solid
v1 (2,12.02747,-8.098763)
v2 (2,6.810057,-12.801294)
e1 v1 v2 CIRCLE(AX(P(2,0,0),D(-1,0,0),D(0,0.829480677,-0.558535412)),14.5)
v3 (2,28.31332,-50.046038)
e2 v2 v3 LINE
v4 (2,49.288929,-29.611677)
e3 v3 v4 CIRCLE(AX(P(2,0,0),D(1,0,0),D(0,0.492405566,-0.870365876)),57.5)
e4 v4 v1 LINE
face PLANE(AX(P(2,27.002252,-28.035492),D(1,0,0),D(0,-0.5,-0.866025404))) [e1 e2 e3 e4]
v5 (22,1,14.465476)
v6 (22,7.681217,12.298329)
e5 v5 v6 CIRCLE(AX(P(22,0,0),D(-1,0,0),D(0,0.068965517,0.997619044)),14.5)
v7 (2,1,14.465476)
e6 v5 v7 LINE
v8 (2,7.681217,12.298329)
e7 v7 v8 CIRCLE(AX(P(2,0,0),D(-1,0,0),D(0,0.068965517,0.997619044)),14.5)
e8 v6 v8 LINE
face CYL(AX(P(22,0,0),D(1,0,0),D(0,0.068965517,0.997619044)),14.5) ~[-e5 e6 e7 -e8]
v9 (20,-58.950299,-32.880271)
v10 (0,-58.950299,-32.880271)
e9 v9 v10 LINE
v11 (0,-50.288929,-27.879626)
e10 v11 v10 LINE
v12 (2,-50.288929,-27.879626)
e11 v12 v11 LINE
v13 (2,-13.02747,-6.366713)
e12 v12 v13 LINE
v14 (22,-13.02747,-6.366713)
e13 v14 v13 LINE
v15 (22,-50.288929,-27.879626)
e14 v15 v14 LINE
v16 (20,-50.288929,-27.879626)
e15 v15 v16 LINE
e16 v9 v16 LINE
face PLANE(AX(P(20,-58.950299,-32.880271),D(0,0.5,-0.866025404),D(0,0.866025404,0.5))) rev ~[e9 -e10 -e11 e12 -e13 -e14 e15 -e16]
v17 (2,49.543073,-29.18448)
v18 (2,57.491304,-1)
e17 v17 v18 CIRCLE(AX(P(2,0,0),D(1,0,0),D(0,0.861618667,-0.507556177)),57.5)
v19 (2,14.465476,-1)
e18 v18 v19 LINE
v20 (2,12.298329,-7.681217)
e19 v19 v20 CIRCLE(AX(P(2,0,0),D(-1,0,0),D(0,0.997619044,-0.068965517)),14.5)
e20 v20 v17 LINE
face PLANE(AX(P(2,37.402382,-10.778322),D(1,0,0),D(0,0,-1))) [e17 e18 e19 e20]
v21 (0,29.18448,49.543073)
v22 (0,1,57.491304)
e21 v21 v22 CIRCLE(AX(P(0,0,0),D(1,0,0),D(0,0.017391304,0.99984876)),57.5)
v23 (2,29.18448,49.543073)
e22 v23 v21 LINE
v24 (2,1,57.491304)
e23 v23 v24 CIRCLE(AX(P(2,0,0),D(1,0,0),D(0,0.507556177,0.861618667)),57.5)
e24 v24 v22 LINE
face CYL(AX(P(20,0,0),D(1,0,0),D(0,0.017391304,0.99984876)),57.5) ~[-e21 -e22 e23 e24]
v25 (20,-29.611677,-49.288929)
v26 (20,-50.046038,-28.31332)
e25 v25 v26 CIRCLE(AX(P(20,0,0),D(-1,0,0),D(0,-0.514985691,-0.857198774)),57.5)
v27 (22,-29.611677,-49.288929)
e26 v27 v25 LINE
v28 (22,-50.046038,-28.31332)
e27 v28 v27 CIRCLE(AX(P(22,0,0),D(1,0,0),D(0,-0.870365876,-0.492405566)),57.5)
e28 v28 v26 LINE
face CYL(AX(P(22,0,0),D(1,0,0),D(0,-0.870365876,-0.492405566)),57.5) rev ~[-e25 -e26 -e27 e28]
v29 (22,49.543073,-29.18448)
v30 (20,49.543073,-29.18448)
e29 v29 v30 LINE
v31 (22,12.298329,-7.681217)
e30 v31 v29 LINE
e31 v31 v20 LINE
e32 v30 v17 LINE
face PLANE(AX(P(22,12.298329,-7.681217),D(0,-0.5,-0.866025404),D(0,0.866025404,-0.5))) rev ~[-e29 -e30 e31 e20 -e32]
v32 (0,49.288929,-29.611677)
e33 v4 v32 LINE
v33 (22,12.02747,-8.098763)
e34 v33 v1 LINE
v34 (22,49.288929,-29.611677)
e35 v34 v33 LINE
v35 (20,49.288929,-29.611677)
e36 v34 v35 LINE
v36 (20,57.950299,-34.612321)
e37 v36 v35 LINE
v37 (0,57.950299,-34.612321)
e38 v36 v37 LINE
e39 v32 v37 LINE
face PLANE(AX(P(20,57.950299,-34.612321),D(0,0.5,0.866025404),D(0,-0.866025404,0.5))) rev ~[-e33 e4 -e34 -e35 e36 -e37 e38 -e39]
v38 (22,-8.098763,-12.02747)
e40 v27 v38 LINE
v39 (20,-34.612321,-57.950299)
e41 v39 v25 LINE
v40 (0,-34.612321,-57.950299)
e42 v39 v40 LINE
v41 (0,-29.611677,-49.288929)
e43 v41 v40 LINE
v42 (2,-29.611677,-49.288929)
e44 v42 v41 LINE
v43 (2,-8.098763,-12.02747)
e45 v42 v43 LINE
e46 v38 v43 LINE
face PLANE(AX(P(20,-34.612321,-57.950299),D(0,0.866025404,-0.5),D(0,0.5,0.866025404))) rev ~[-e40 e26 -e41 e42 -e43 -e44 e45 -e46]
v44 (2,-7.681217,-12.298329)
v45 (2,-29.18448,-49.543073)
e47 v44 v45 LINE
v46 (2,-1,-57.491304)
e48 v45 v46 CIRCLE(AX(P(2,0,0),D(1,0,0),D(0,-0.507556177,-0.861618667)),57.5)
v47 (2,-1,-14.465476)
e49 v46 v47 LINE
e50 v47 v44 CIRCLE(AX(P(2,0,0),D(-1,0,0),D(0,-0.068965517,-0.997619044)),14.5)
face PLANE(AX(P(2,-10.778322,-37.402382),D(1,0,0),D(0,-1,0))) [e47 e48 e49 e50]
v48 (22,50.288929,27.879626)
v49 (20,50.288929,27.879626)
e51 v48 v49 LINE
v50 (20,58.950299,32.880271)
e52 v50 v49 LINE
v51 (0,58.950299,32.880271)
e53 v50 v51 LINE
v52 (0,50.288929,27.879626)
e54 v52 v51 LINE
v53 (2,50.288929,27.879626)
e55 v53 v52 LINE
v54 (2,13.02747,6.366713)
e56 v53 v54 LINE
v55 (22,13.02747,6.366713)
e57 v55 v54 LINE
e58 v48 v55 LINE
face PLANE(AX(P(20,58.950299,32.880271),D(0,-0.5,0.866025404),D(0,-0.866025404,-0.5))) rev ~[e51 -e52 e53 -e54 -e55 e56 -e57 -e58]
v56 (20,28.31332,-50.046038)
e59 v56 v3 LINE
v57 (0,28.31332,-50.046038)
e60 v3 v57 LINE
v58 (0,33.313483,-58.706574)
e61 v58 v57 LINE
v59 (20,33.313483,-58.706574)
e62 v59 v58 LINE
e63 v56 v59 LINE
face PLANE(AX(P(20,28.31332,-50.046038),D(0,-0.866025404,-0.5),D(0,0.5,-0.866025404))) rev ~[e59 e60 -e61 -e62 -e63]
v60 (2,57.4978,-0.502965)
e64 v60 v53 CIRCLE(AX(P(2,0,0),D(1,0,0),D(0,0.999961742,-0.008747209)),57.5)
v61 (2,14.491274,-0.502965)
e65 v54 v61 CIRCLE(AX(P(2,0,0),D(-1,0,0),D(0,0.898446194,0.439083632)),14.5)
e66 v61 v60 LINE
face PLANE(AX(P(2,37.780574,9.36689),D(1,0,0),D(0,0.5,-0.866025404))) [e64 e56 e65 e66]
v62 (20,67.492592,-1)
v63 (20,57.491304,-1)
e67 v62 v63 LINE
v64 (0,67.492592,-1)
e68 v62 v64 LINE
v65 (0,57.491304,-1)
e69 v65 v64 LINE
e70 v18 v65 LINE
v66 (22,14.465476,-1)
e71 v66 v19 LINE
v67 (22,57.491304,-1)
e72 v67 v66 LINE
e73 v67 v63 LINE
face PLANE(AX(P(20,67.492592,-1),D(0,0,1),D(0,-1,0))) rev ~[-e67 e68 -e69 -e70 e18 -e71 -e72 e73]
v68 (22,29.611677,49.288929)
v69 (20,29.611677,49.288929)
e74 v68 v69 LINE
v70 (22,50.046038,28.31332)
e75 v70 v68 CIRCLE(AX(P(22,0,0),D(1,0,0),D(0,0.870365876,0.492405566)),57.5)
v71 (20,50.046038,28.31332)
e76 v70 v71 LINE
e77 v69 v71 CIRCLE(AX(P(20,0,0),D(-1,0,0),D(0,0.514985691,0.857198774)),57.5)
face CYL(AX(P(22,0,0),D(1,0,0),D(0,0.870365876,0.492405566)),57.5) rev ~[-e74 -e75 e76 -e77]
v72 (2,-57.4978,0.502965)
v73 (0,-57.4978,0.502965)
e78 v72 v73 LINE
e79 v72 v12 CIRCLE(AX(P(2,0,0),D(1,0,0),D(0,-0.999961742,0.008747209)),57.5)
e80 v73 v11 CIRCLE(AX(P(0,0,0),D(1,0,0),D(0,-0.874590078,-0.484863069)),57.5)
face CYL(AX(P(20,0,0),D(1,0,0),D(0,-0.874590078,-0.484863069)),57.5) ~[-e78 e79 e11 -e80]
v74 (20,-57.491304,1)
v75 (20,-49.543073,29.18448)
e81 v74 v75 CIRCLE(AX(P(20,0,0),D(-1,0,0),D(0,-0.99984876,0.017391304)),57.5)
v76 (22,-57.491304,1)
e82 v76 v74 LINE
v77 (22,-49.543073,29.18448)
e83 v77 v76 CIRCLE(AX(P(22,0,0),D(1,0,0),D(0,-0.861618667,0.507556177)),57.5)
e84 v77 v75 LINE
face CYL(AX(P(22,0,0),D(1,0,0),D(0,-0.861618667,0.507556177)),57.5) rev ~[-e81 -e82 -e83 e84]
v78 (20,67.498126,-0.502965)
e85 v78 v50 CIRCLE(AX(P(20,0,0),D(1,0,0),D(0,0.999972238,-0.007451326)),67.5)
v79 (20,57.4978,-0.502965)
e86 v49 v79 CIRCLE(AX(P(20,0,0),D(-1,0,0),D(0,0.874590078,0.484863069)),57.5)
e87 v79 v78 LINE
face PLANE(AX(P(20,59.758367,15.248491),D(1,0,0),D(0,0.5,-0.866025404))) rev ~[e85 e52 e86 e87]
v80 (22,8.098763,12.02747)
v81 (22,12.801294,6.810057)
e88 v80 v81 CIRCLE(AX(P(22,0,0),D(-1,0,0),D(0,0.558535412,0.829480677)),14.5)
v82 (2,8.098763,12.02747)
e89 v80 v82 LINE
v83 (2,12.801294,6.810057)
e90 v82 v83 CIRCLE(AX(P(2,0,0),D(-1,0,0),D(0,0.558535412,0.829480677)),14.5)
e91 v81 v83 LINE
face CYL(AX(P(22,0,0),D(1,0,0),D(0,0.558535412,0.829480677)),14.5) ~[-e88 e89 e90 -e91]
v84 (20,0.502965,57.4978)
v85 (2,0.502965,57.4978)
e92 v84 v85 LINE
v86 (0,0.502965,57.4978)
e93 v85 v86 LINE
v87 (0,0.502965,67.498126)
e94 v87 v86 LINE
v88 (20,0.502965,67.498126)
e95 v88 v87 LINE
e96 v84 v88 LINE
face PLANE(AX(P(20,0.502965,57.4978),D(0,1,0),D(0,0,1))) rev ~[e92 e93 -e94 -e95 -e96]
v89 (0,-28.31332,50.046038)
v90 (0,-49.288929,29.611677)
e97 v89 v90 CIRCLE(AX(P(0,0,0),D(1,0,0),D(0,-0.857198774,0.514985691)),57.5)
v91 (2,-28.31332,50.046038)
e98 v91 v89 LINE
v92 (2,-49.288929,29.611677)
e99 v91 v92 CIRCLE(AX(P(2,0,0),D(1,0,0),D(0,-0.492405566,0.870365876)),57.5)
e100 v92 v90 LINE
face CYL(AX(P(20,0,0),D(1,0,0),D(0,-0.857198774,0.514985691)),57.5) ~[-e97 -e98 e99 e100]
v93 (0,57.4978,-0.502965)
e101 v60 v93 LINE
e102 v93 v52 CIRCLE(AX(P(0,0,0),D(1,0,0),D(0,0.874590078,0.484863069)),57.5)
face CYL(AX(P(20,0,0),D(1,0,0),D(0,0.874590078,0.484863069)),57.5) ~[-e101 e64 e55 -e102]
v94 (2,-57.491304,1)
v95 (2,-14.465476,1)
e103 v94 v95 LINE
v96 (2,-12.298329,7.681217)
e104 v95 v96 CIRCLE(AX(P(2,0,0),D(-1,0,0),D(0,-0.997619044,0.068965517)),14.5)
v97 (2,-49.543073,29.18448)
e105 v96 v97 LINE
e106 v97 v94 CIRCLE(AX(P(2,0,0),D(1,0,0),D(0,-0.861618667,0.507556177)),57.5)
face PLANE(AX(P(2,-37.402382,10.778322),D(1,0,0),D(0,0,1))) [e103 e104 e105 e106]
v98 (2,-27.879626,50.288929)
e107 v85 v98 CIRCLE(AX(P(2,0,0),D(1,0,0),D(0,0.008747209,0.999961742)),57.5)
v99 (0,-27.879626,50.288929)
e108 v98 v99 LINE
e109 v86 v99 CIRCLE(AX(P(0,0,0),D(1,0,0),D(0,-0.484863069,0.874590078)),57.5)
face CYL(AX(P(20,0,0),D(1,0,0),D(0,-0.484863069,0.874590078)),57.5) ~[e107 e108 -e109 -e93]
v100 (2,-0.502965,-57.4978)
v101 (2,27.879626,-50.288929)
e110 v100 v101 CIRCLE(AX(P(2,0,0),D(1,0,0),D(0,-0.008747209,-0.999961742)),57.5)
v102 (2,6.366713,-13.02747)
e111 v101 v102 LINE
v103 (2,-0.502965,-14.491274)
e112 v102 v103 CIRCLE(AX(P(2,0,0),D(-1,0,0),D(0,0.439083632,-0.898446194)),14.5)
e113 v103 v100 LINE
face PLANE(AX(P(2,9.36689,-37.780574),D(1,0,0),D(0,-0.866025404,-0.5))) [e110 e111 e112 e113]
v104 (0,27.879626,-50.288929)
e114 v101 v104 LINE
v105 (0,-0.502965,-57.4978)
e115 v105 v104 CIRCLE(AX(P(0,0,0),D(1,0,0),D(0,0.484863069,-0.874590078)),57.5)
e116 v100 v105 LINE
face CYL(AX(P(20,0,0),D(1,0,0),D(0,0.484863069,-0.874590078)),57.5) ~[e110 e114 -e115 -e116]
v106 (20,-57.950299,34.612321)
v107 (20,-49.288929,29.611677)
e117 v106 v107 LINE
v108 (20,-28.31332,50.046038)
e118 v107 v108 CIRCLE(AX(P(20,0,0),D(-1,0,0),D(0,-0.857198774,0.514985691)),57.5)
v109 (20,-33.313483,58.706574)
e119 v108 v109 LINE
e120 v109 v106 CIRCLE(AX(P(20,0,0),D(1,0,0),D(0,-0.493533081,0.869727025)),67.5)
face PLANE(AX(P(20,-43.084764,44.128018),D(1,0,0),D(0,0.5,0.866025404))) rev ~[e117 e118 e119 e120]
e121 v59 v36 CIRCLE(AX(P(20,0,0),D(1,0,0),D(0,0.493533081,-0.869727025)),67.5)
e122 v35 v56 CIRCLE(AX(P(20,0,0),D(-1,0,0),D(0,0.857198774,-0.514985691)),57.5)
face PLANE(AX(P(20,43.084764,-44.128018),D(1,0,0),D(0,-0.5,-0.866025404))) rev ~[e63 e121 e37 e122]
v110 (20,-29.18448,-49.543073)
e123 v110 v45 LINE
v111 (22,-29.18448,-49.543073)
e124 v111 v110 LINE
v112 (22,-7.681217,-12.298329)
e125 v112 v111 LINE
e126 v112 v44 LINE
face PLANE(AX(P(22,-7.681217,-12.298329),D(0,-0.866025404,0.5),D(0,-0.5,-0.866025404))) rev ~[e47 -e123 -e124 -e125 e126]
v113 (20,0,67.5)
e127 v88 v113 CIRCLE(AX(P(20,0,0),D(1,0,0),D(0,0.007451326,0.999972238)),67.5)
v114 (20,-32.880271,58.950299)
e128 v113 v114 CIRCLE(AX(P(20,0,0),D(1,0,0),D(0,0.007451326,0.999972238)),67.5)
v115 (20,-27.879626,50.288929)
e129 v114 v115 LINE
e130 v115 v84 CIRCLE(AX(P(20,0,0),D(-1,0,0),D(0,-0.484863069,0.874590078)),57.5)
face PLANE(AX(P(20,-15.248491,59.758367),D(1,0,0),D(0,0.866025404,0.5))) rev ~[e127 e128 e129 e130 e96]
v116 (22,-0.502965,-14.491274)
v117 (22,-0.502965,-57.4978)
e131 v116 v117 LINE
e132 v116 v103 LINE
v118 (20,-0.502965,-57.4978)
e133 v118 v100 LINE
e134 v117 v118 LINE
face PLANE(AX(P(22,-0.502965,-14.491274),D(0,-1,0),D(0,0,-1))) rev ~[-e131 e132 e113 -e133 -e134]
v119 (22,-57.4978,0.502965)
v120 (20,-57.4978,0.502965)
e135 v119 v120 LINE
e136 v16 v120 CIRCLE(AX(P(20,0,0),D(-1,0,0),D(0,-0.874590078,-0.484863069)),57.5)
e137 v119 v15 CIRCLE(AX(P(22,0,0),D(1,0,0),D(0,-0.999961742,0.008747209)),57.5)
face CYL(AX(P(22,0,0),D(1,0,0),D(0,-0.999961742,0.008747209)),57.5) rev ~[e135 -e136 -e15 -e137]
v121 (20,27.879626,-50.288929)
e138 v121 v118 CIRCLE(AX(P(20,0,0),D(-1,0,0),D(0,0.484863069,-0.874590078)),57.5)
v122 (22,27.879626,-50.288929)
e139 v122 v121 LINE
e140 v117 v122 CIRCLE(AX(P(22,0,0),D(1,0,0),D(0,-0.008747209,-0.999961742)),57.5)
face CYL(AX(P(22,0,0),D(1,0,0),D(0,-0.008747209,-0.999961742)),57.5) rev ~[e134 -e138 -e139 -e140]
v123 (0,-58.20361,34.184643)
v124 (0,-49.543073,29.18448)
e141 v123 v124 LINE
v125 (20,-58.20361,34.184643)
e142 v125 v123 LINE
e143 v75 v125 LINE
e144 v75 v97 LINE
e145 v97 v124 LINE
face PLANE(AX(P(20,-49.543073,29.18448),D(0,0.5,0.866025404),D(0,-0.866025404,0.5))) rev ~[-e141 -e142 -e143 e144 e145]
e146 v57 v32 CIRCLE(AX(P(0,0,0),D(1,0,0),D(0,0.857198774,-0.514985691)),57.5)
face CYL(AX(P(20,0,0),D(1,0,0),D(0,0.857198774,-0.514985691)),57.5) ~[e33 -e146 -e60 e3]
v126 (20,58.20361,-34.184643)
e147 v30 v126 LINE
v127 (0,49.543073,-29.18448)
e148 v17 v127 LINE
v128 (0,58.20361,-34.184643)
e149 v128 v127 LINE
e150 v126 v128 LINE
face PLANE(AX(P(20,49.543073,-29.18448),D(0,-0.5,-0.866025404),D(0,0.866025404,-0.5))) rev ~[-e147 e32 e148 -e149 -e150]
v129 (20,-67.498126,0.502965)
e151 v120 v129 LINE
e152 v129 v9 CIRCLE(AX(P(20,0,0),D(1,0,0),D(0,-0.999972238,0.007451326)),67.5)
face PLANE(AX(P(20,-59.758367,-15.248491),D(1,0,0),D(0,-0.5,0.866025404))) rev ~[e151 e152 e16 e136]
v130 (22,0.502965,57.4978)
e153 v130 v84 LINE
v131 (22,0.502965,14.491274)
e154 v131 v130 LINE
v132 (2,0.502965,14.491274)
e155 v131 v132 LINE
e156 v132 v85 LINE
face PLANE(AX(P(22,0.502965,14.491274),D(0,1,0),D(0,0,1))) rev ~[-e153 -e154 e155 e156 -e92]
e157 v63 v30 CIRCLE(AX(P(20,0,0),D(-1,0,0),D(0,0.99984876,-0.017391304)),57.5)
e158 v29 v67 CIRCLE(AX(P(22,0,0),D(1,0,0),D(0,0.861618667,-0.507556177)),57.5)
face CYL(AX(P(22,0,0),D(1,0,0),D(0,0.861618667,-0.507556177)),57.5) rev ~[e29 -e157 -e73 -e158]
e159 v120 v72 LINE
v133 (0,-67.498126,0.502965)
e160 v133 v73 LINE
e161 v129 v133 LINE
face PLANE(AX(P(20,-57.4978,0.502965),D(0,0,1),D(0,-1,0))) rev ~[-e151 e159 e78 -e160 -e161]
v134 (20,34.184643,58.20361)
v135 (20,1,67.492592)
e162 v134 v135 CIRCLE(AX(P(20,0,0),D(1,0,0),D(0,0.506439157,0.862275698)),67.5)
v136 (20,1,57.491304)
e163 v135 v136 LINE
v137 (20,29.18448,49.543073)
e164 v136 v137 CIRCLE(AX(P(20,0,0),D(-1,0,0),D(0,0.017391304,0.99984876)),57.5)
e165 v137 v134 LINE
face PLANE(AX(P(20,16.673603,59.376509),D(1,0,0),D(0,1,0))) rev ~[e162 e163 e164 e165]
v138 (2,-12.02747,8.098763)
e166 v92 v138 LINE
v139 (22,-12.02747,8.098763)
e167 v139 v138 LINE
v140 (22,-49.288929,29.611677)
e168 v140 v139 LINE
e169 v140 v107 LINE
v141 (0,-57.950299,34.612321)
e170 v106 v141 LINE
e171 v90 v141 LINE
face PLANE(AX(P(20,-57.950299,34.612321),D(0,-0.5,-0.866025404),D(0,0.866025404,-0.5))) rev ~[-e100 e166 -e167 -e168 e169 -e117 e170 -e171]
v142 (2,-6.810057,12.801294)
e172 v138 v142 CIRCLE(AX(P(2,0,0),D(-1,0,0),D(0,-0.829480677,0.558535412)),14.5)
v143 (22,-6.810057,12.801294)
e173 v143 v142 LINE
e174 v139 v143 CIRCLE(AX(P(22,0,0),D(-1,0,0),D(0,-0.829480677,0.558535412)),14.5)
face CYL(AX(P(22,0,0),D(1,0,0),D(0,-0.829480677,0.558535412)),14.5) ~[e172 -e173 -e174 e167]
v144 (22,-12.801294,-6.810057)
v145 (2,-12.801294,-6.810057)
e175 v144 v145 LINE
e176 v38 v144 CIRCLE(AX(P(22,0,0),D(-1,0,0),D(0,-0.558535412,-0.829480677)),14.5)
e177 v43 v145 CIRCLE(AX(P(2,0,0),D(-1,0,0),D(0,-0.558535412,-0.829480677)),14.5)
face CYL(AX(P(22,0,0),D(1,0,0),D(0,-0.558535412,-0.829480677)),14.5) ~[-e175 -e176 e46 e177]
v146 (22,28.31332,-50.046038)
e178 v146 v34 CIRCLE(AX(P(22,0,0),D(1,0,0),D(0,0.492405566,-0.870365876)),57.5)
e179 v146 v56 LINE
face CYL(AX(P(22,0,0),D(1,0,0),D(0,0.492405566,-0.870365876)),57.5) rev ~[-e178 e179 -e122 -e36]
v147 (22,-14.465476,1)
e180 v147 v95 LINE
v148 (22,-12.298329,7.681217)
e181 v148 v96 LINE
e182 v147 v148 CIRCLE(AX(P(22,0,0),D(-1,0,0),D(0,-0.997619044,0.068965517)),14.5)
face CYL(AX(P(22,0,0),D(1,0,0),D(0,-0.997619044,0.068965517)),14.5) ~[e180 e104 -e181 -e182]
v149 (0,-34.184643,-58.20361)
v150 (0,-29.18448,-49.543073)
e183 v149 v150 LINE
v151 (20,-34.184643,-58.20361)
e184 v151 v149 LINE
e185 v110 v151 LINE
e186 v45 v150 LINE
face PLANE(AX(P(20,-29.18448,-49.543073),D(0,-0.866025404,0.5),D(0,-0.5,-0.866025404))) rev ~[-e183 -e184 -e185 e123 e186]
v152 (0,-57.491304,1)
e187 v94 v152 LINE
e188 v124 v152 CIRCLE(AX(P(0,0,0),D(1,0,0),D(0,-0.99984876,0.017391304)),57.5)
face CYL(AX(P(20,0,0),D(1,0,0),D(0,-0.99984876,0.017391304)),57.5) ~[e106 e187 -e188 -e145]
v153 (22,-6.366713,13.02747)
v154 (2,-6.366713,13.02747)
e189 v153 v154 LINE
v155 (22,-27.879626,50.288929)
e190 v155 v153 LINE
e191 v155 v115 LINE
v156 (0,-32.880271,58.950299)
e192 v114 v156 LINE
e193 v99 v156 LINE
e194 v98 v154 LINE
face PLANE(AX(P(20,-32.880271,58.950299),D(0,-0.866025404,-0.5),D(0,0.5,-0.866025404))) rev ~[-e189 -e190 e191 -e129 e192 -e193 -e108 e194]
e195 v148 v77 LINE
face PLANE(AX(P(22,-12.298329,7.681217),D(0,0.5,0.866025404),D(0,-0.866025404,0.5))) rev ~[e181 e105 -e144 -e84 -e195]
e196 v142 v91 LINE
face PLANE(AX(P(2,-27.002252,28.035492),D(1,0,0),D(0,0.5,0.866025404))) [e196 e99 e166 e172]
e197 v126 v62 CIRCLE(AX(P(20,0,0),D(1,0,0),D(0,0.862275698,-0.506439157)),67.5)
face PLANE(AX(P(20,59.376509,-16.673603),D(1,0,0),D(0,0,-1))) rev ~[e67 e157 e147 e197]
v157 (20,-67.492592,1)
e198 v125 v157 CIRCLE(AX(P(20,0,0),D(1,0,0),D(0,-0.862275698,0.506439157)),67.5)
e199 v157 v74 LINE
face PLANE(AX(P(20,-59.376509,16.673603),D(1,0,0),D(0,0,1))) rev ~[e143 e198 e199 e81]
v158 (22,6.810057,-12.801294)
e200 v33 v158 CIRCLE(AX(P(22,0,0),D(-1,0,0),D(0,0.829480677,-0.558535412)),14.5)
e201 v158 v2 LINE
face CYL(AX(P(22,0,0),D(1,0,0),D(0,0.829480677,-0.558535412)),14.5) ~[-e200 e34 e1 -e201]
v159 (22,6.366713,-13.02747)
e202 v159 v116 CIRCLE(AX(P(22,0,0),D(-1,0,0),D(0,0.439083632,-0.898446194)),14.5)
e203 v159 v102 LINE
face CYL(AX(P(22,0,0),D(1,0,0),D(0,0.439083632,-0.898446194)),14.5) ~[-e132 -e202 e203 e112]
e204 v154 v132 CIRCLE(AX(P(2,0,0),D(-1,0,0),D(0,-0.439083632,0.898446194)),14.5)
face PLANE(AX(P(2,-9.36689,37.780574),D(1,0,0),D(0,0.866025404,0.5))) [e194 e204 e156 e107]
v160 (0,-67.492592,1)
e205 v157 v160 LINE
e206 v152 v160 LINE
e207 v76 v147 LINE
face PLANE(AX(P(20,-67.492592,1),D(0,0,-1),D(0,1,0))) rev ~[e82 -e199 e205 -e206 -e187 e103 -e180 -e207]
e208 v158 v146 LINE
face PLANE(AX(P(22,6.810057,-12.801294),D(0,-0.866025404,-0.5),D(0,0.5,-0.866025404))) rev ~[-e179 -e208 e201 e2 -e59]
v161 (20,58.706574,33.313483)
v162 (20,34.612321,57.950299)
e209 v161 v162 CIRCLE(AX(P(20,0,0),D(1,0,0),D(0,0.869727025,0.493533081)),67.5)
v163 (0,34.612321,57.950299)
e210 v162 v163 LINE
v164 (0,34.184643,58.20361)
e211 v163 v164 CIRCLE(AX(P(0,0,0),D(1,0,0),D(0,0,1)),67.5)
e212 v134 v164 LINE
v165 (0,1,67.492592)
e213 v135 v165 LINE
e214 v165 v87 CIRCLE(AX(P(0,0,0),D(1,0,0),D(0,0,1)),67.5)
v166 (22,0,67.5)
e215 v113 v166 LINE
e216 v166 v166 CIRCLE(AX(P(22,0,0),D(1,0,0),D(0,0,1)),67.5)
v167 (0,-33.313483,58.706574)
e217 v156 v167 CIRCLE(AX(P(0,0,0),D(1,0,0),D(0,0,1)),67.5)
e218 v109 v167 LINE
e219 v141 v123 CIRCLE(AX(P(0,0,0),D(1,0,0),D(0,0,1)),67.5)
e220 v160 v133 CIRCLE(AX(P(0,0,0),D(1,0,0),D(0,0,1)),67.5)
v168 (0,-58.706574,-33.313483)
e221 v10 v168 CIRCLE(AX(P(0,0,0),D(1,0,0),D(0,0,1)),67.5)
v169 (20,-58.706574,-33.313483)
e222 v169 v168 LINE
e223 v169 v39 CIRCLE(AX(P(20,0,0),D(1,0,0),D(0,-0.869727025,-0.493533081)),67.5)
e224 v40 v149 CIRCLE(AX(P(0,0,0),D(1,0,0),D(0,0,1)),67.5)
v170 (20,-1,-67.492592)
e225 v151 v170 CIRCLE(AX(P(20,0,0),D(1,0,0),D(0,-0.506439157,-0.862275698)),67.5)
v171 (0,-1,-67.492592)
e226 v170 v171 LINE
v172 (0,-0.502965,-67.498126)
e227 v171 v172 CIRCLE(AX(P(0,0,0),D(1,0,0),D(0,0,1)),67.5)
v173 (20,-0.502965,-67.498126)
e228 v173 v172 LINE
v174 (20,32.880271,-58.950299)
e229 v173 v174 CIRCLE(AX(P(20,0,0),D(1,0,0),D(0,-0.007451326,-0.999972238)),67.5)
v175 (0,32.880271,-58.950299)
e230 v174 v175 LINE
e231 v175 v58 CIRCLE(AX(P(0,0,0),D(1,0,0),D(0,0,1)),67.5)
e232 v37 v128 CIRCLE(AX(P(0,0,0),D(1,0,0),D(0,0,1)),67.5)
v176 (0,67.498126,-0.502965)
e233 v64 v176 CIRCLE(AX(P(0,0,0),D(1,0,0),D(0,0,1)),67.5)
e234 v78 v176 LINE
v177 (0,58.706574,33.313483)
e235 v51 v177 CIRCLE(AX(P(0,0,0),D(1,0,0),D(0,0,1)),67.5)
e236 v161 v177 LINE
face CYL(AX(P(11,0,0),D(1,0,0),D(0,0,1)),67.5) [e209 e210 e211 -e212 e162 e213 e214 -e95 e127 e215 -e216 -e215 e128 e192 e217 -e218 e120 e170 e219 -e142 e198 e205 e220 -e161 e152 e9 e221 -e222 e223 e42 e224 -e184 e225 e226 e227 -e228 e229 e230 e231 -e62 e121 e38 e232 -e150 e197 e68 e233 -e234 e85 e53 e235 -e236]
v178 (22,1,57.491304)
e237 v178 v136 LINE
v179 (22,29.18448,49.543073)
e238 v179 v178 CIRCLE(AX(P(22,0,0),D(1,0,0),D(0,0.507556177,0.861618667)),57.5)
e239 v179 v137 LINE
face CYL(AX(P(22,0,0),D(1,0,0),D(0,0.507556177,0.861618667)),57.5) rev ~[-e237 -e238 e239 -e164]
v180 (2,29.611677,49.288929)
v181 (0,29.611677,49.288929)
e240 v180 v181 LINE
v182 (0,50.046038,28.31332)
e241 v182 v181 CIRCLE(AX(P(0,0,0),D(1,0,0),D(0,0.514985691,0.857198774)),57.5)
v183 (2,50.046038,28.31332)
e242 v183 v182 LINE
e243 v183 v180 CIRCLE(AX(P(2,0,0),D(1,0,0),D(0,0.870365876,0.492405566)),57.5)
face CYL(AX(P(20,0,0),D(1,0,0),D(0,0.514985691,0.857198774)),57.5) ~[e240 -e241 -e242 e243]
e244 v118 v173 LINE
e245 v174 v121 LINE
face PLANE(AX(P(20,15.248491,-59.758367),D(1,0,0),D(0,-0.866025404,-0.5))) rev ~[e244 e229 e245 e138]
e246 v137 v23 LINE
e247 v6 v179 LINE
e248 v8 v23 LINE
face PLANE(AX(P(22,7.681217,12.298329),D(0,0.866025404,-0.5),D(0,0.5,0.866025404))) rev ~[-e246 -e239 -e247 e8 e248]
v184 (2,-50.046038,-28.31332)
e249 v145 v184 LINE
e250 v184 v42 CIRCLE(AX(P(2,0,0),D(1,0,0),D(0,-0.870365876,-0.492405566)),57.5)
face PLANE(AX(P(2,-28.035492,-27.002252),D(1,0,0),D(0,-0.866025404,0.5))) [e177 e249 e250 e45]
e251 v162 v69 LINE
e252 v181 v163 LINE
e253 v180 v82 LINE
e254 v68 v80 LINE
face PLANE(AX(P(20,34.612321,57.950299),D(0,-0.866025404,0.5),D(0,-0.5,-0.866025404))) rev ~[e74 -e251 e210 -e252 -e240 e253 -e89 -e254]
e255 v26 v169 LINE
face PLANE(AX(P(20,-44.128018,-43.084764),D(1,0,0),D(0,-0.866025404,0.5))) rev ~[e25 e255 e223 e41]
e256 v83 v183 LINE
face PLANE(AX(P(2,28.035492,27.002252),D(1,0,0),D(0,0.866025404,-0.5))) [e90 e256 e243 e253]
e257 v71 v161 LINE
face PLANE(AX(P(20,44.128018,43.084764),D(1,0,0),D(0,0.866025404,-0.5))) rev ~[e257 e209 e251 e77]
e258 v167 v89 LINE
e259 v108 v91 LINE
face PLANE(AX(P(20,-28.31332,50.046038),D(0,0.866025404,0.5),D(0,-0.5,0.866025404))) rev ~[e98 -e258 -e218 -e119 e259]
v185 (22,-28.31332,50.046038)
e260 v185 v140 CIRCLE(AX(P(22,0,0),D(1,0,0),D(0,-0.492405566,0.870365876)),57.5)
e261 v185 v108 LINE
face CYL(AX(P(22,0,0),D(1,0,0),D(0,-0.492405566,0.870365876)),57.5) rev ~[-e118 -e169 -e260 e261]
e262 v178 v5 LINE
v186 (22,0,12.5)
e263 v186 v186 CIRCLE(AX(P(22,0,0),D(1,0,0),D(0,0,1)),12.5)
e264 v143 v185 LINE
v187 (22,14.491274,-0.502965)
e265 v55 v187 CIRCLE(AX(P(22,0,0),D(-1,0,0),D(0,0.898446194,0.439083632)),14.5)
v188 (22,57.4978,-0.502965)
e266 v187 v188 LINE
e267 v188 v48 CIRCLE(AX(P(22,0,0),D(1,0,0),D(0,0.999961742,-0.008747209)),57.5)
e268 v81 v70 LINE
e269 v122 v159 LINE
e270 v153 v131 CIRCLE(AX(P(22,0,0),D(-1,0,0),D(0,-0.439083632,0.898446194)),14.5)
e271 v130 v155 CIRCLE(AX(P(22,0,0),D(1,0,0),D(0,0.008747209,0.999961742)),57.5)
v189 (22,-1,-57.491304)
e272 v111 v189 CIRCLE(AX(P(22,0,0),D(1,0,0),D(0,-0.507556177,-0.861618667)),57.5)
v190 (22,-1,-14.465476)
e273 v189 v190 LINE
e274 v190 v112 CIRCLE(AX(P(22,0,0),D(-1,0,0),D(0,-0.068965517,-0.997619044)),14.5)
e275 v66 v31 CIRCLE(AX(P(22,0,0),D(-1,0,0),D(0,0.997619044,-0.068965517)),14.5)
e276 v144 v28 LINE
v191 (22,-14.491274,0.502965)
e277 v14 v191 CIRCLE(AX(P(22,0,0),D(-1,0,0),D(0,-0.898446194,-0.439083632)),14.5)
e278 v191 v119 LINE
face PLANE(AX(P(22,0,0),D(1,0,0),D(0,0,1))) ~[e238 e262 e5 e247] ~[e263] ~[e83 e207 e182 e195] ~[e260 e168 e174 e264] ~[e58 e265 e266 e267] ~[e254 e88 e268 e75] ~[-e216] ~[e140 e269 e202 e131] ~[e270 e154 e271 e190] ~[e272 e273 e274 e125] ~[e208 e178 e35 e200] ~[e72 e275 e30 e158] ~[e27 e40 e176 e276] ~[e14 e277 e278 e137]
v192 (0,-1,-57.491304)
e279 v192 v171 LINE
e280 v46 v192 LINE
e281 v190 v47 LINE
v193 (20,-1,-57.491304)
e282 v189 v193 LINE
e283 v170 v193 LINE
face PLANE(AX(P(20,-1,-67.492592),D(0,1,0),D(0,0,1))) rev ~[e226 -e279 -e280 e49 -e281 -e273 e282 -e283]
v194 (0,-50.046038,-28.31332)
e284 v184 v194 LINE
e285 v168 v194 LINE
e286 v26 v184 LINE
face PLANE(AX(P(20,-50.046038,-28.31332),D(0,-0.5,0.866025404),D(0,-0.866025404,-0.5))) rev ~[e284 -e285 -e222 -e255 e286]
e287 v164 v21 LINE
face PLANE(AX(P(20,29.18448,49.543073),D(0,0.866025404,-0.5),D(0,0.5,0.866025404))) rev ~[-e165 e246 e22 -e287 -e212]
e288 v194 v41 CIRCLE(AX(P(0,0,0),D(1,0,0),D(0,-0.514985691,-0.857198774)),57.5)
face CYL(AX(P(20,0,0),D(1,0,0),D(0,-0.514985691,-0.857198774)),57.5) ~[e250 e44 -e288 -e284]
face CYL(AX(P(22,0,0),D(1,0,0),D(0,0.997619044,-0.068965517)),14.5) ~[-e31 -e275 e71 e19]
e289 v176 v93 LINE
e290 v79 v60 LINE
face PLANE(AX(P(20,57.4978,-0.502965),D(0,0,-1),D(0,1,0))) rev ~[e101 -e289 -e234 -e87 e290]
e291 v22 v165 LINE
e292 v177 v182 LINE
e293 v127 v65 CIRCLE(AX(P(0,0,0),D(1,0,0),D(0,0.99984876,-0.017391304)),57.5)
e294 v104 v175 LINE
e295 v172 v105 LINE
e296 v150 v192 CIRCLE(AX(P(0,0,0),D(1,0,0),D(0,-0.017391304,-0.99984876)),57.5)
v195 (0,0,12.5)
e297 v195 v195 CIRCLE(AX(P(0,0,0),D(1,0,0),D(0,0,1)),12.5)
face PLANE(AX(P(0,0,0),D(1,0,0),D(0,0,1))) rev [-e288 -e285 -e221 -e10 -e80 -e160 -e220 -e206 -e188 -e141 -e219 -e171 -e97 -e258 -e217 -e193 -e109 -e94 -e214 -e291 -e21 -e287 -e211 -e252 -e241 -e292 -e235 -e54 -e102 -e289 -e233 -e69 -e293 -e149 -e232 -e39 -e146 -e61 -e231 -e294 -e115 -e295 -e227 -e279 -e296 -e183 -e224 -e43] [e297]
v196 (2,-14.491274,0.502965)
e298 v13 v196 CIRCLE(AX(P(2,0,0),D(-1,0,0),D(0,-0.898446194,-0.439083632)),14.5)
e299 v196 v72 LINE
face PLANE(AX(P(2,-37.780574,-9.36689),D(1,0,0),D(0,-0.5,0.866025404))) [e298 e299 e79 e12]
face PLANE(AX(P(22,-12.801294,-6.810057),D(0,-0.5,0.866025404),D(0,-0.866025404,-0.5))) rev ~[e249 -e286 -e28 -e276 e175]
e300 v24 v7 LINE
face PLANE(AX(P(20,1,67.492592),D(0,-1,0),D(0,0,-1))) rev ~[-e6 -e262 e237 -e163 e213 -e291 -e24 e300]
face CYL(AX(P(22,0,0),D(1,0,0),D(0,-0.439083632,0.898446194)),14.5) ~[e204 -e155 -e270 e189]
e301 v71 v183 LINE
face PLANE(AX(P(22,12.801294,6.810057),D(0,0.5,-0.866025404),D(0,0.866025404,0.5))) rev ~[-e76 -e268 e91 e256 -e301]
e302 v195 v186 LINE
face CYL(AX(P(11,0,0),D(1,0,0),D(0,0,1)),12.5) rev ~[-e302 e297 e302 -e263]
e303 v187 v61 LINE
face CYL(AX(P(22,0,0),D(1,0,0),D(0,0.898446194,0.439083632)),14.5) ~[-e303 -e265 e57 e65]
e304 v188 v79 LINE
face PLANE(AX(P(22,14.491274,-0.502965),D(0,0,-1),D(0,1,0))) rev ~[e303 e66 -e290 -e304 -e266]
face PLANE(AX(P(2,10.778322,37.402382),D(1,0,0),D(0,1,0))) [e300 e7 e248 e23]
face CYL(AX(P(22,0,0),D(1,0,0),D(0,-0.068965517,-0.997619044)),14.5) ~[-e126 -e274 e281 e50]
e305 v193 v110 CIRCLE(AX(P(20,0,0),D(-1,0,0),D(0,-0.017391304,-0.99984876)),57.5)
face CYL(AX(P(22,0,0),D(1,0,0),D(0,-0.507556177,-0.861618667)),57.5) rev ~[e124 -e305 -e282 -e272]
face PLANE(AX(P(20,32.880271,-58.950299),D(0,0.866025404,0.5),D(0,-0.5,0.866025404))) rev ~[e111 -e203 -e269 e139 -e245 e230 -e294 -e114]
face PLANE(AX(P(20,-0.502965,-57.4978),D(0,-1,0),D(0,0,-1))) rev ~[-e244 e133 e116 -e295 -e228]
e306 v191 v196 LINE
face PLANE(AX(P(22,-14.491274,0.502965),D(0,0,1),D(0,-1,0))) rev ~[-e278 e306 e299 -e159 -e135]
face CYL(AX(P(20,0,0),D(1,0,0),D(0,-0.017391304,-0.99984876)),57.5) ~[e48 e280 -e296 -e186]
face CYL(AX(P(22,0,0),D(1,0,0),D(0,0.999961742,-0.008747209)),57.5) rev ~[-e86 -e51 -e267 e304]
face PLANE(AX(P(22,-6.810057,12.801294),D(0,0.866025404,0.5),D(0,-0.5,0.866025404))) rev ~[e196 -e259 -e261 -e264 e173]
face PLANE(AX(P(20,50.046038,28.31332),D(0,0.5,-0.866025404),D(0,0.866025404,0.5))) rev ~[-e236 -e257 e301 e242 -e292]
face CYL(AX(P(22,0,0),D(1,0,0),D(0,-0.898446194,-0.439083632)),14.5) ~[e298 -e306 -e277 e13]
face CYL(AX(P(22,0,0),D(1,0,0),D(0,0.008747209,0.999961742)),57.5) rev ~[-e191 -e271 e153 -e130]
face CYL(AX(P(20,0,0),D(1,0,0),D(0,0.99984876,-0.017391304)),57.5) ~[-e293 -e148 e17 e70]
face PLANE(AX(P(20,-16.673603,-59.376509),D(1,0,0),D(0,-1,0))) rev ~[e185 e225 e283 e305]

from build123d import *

# Parameters (mm, degrees)
ESBO_O1_W             = 22
ESBO_O1_H             = 55
CORTE_EXTRUS_O1_DEPTH = 20
CIRPATTERN1_COUNT     = 12
CORTE_EXTRUS_O2_DEPTH = 98.532046016
CIRPATTERN2_COUNT     = 12


with BuildPart() as part:
    # Esboço1 → Revolução1 (revolve)
    with BuildSketch(Plane.XY, mode=Mode.PRIVATE) as revolu_o1_sk:
        with Locations((11, 40)):
            Rectangle(ESBO_O1_W, ESBO_O1_H)
    revolve(revolu_o1_sk.sketch.rotate(Axis((0, 0, 0), (1, 0, 0)), 90), axis=Axis((0, 0, 0), (1, 0, 0)))

    # Esboço2 → Corte-extrusão1 (cut)
    with BuildSketch(Plane(origin=(22, 0, 0), x_dir=(0, 0, -1), z_dir=(1, 0, 0))):
        with BuildLine():
            Line((1, 57.49130369), (1, 14.465476141))
            ThreePointArc((1, 14.465476141), (4.473814272, 13.792569951), (7.681217142, 12.298329286))
            Line((7.681217142, 12.298329286), (29.184480159, 49.543073359))
            ThreePointArc((29.184480159, 49.543073359), (15.606706954, 55.34149165), (1, 57.49130369))
        make_face()
    corte_extrus_o1 = extrude(amount=-CORTE_EXTRUS_O1_DEPTH, mode=Mode.SUBTRACT)

    # CirPattern1: Corte-extrusão1 ×12 about axis
    cirpattern1_axis = Axis((0, 0, 0), (1, 0, 0))
    for i in range(1, CIRPATTERN1_COUNT):
        add(corte_extrus_o1.rotate(cirpattern1_axis, i * 360 / CIRPATTERN1_COUNT), mode=Mode.SUBTRACT)

    # Esboço3 → Corte-extrusão2 (cut, through all)
    with BuildSketch(Plane(origin=(20, 0, 0), x_dir=(0, 0, -1), z_dir=(1, 0, 0))):
        with BuildLine():
            Line((29.184480159, 49.543073359), (34.184643112, 58.203609641))
            ThreePointArc((34.184643112, 58.203609641), (18.195083867, 65.001453238), (1, 67.492592186))
            Line((1, 67.492592186), (1, 57.49130369))
            ThreePointArc((1, 57.49130369), (15.606706954, 55.34149165), (29.184480159, 49.543073359))
        make_face()
    corte_extrus_o2 = extrude(amount=-CORTE_EXTRUS_O2_DEPTH, mode=Mode.SUBTRACT)

    # CirPattern2: Corte-extrusão2 ×12 about axis
    cirpattern2_axis = Axis((0, 0, 0), (1, 0, 0))
    for i in range(1, CIRPATTERN2_COUNT):
        add(corte_extrus_o2.rotate(cirpattern2_axis, i * 360 / CIRPATTERN2_COUNT), mode=Mode.SUBTRACT)


solid = part.part
